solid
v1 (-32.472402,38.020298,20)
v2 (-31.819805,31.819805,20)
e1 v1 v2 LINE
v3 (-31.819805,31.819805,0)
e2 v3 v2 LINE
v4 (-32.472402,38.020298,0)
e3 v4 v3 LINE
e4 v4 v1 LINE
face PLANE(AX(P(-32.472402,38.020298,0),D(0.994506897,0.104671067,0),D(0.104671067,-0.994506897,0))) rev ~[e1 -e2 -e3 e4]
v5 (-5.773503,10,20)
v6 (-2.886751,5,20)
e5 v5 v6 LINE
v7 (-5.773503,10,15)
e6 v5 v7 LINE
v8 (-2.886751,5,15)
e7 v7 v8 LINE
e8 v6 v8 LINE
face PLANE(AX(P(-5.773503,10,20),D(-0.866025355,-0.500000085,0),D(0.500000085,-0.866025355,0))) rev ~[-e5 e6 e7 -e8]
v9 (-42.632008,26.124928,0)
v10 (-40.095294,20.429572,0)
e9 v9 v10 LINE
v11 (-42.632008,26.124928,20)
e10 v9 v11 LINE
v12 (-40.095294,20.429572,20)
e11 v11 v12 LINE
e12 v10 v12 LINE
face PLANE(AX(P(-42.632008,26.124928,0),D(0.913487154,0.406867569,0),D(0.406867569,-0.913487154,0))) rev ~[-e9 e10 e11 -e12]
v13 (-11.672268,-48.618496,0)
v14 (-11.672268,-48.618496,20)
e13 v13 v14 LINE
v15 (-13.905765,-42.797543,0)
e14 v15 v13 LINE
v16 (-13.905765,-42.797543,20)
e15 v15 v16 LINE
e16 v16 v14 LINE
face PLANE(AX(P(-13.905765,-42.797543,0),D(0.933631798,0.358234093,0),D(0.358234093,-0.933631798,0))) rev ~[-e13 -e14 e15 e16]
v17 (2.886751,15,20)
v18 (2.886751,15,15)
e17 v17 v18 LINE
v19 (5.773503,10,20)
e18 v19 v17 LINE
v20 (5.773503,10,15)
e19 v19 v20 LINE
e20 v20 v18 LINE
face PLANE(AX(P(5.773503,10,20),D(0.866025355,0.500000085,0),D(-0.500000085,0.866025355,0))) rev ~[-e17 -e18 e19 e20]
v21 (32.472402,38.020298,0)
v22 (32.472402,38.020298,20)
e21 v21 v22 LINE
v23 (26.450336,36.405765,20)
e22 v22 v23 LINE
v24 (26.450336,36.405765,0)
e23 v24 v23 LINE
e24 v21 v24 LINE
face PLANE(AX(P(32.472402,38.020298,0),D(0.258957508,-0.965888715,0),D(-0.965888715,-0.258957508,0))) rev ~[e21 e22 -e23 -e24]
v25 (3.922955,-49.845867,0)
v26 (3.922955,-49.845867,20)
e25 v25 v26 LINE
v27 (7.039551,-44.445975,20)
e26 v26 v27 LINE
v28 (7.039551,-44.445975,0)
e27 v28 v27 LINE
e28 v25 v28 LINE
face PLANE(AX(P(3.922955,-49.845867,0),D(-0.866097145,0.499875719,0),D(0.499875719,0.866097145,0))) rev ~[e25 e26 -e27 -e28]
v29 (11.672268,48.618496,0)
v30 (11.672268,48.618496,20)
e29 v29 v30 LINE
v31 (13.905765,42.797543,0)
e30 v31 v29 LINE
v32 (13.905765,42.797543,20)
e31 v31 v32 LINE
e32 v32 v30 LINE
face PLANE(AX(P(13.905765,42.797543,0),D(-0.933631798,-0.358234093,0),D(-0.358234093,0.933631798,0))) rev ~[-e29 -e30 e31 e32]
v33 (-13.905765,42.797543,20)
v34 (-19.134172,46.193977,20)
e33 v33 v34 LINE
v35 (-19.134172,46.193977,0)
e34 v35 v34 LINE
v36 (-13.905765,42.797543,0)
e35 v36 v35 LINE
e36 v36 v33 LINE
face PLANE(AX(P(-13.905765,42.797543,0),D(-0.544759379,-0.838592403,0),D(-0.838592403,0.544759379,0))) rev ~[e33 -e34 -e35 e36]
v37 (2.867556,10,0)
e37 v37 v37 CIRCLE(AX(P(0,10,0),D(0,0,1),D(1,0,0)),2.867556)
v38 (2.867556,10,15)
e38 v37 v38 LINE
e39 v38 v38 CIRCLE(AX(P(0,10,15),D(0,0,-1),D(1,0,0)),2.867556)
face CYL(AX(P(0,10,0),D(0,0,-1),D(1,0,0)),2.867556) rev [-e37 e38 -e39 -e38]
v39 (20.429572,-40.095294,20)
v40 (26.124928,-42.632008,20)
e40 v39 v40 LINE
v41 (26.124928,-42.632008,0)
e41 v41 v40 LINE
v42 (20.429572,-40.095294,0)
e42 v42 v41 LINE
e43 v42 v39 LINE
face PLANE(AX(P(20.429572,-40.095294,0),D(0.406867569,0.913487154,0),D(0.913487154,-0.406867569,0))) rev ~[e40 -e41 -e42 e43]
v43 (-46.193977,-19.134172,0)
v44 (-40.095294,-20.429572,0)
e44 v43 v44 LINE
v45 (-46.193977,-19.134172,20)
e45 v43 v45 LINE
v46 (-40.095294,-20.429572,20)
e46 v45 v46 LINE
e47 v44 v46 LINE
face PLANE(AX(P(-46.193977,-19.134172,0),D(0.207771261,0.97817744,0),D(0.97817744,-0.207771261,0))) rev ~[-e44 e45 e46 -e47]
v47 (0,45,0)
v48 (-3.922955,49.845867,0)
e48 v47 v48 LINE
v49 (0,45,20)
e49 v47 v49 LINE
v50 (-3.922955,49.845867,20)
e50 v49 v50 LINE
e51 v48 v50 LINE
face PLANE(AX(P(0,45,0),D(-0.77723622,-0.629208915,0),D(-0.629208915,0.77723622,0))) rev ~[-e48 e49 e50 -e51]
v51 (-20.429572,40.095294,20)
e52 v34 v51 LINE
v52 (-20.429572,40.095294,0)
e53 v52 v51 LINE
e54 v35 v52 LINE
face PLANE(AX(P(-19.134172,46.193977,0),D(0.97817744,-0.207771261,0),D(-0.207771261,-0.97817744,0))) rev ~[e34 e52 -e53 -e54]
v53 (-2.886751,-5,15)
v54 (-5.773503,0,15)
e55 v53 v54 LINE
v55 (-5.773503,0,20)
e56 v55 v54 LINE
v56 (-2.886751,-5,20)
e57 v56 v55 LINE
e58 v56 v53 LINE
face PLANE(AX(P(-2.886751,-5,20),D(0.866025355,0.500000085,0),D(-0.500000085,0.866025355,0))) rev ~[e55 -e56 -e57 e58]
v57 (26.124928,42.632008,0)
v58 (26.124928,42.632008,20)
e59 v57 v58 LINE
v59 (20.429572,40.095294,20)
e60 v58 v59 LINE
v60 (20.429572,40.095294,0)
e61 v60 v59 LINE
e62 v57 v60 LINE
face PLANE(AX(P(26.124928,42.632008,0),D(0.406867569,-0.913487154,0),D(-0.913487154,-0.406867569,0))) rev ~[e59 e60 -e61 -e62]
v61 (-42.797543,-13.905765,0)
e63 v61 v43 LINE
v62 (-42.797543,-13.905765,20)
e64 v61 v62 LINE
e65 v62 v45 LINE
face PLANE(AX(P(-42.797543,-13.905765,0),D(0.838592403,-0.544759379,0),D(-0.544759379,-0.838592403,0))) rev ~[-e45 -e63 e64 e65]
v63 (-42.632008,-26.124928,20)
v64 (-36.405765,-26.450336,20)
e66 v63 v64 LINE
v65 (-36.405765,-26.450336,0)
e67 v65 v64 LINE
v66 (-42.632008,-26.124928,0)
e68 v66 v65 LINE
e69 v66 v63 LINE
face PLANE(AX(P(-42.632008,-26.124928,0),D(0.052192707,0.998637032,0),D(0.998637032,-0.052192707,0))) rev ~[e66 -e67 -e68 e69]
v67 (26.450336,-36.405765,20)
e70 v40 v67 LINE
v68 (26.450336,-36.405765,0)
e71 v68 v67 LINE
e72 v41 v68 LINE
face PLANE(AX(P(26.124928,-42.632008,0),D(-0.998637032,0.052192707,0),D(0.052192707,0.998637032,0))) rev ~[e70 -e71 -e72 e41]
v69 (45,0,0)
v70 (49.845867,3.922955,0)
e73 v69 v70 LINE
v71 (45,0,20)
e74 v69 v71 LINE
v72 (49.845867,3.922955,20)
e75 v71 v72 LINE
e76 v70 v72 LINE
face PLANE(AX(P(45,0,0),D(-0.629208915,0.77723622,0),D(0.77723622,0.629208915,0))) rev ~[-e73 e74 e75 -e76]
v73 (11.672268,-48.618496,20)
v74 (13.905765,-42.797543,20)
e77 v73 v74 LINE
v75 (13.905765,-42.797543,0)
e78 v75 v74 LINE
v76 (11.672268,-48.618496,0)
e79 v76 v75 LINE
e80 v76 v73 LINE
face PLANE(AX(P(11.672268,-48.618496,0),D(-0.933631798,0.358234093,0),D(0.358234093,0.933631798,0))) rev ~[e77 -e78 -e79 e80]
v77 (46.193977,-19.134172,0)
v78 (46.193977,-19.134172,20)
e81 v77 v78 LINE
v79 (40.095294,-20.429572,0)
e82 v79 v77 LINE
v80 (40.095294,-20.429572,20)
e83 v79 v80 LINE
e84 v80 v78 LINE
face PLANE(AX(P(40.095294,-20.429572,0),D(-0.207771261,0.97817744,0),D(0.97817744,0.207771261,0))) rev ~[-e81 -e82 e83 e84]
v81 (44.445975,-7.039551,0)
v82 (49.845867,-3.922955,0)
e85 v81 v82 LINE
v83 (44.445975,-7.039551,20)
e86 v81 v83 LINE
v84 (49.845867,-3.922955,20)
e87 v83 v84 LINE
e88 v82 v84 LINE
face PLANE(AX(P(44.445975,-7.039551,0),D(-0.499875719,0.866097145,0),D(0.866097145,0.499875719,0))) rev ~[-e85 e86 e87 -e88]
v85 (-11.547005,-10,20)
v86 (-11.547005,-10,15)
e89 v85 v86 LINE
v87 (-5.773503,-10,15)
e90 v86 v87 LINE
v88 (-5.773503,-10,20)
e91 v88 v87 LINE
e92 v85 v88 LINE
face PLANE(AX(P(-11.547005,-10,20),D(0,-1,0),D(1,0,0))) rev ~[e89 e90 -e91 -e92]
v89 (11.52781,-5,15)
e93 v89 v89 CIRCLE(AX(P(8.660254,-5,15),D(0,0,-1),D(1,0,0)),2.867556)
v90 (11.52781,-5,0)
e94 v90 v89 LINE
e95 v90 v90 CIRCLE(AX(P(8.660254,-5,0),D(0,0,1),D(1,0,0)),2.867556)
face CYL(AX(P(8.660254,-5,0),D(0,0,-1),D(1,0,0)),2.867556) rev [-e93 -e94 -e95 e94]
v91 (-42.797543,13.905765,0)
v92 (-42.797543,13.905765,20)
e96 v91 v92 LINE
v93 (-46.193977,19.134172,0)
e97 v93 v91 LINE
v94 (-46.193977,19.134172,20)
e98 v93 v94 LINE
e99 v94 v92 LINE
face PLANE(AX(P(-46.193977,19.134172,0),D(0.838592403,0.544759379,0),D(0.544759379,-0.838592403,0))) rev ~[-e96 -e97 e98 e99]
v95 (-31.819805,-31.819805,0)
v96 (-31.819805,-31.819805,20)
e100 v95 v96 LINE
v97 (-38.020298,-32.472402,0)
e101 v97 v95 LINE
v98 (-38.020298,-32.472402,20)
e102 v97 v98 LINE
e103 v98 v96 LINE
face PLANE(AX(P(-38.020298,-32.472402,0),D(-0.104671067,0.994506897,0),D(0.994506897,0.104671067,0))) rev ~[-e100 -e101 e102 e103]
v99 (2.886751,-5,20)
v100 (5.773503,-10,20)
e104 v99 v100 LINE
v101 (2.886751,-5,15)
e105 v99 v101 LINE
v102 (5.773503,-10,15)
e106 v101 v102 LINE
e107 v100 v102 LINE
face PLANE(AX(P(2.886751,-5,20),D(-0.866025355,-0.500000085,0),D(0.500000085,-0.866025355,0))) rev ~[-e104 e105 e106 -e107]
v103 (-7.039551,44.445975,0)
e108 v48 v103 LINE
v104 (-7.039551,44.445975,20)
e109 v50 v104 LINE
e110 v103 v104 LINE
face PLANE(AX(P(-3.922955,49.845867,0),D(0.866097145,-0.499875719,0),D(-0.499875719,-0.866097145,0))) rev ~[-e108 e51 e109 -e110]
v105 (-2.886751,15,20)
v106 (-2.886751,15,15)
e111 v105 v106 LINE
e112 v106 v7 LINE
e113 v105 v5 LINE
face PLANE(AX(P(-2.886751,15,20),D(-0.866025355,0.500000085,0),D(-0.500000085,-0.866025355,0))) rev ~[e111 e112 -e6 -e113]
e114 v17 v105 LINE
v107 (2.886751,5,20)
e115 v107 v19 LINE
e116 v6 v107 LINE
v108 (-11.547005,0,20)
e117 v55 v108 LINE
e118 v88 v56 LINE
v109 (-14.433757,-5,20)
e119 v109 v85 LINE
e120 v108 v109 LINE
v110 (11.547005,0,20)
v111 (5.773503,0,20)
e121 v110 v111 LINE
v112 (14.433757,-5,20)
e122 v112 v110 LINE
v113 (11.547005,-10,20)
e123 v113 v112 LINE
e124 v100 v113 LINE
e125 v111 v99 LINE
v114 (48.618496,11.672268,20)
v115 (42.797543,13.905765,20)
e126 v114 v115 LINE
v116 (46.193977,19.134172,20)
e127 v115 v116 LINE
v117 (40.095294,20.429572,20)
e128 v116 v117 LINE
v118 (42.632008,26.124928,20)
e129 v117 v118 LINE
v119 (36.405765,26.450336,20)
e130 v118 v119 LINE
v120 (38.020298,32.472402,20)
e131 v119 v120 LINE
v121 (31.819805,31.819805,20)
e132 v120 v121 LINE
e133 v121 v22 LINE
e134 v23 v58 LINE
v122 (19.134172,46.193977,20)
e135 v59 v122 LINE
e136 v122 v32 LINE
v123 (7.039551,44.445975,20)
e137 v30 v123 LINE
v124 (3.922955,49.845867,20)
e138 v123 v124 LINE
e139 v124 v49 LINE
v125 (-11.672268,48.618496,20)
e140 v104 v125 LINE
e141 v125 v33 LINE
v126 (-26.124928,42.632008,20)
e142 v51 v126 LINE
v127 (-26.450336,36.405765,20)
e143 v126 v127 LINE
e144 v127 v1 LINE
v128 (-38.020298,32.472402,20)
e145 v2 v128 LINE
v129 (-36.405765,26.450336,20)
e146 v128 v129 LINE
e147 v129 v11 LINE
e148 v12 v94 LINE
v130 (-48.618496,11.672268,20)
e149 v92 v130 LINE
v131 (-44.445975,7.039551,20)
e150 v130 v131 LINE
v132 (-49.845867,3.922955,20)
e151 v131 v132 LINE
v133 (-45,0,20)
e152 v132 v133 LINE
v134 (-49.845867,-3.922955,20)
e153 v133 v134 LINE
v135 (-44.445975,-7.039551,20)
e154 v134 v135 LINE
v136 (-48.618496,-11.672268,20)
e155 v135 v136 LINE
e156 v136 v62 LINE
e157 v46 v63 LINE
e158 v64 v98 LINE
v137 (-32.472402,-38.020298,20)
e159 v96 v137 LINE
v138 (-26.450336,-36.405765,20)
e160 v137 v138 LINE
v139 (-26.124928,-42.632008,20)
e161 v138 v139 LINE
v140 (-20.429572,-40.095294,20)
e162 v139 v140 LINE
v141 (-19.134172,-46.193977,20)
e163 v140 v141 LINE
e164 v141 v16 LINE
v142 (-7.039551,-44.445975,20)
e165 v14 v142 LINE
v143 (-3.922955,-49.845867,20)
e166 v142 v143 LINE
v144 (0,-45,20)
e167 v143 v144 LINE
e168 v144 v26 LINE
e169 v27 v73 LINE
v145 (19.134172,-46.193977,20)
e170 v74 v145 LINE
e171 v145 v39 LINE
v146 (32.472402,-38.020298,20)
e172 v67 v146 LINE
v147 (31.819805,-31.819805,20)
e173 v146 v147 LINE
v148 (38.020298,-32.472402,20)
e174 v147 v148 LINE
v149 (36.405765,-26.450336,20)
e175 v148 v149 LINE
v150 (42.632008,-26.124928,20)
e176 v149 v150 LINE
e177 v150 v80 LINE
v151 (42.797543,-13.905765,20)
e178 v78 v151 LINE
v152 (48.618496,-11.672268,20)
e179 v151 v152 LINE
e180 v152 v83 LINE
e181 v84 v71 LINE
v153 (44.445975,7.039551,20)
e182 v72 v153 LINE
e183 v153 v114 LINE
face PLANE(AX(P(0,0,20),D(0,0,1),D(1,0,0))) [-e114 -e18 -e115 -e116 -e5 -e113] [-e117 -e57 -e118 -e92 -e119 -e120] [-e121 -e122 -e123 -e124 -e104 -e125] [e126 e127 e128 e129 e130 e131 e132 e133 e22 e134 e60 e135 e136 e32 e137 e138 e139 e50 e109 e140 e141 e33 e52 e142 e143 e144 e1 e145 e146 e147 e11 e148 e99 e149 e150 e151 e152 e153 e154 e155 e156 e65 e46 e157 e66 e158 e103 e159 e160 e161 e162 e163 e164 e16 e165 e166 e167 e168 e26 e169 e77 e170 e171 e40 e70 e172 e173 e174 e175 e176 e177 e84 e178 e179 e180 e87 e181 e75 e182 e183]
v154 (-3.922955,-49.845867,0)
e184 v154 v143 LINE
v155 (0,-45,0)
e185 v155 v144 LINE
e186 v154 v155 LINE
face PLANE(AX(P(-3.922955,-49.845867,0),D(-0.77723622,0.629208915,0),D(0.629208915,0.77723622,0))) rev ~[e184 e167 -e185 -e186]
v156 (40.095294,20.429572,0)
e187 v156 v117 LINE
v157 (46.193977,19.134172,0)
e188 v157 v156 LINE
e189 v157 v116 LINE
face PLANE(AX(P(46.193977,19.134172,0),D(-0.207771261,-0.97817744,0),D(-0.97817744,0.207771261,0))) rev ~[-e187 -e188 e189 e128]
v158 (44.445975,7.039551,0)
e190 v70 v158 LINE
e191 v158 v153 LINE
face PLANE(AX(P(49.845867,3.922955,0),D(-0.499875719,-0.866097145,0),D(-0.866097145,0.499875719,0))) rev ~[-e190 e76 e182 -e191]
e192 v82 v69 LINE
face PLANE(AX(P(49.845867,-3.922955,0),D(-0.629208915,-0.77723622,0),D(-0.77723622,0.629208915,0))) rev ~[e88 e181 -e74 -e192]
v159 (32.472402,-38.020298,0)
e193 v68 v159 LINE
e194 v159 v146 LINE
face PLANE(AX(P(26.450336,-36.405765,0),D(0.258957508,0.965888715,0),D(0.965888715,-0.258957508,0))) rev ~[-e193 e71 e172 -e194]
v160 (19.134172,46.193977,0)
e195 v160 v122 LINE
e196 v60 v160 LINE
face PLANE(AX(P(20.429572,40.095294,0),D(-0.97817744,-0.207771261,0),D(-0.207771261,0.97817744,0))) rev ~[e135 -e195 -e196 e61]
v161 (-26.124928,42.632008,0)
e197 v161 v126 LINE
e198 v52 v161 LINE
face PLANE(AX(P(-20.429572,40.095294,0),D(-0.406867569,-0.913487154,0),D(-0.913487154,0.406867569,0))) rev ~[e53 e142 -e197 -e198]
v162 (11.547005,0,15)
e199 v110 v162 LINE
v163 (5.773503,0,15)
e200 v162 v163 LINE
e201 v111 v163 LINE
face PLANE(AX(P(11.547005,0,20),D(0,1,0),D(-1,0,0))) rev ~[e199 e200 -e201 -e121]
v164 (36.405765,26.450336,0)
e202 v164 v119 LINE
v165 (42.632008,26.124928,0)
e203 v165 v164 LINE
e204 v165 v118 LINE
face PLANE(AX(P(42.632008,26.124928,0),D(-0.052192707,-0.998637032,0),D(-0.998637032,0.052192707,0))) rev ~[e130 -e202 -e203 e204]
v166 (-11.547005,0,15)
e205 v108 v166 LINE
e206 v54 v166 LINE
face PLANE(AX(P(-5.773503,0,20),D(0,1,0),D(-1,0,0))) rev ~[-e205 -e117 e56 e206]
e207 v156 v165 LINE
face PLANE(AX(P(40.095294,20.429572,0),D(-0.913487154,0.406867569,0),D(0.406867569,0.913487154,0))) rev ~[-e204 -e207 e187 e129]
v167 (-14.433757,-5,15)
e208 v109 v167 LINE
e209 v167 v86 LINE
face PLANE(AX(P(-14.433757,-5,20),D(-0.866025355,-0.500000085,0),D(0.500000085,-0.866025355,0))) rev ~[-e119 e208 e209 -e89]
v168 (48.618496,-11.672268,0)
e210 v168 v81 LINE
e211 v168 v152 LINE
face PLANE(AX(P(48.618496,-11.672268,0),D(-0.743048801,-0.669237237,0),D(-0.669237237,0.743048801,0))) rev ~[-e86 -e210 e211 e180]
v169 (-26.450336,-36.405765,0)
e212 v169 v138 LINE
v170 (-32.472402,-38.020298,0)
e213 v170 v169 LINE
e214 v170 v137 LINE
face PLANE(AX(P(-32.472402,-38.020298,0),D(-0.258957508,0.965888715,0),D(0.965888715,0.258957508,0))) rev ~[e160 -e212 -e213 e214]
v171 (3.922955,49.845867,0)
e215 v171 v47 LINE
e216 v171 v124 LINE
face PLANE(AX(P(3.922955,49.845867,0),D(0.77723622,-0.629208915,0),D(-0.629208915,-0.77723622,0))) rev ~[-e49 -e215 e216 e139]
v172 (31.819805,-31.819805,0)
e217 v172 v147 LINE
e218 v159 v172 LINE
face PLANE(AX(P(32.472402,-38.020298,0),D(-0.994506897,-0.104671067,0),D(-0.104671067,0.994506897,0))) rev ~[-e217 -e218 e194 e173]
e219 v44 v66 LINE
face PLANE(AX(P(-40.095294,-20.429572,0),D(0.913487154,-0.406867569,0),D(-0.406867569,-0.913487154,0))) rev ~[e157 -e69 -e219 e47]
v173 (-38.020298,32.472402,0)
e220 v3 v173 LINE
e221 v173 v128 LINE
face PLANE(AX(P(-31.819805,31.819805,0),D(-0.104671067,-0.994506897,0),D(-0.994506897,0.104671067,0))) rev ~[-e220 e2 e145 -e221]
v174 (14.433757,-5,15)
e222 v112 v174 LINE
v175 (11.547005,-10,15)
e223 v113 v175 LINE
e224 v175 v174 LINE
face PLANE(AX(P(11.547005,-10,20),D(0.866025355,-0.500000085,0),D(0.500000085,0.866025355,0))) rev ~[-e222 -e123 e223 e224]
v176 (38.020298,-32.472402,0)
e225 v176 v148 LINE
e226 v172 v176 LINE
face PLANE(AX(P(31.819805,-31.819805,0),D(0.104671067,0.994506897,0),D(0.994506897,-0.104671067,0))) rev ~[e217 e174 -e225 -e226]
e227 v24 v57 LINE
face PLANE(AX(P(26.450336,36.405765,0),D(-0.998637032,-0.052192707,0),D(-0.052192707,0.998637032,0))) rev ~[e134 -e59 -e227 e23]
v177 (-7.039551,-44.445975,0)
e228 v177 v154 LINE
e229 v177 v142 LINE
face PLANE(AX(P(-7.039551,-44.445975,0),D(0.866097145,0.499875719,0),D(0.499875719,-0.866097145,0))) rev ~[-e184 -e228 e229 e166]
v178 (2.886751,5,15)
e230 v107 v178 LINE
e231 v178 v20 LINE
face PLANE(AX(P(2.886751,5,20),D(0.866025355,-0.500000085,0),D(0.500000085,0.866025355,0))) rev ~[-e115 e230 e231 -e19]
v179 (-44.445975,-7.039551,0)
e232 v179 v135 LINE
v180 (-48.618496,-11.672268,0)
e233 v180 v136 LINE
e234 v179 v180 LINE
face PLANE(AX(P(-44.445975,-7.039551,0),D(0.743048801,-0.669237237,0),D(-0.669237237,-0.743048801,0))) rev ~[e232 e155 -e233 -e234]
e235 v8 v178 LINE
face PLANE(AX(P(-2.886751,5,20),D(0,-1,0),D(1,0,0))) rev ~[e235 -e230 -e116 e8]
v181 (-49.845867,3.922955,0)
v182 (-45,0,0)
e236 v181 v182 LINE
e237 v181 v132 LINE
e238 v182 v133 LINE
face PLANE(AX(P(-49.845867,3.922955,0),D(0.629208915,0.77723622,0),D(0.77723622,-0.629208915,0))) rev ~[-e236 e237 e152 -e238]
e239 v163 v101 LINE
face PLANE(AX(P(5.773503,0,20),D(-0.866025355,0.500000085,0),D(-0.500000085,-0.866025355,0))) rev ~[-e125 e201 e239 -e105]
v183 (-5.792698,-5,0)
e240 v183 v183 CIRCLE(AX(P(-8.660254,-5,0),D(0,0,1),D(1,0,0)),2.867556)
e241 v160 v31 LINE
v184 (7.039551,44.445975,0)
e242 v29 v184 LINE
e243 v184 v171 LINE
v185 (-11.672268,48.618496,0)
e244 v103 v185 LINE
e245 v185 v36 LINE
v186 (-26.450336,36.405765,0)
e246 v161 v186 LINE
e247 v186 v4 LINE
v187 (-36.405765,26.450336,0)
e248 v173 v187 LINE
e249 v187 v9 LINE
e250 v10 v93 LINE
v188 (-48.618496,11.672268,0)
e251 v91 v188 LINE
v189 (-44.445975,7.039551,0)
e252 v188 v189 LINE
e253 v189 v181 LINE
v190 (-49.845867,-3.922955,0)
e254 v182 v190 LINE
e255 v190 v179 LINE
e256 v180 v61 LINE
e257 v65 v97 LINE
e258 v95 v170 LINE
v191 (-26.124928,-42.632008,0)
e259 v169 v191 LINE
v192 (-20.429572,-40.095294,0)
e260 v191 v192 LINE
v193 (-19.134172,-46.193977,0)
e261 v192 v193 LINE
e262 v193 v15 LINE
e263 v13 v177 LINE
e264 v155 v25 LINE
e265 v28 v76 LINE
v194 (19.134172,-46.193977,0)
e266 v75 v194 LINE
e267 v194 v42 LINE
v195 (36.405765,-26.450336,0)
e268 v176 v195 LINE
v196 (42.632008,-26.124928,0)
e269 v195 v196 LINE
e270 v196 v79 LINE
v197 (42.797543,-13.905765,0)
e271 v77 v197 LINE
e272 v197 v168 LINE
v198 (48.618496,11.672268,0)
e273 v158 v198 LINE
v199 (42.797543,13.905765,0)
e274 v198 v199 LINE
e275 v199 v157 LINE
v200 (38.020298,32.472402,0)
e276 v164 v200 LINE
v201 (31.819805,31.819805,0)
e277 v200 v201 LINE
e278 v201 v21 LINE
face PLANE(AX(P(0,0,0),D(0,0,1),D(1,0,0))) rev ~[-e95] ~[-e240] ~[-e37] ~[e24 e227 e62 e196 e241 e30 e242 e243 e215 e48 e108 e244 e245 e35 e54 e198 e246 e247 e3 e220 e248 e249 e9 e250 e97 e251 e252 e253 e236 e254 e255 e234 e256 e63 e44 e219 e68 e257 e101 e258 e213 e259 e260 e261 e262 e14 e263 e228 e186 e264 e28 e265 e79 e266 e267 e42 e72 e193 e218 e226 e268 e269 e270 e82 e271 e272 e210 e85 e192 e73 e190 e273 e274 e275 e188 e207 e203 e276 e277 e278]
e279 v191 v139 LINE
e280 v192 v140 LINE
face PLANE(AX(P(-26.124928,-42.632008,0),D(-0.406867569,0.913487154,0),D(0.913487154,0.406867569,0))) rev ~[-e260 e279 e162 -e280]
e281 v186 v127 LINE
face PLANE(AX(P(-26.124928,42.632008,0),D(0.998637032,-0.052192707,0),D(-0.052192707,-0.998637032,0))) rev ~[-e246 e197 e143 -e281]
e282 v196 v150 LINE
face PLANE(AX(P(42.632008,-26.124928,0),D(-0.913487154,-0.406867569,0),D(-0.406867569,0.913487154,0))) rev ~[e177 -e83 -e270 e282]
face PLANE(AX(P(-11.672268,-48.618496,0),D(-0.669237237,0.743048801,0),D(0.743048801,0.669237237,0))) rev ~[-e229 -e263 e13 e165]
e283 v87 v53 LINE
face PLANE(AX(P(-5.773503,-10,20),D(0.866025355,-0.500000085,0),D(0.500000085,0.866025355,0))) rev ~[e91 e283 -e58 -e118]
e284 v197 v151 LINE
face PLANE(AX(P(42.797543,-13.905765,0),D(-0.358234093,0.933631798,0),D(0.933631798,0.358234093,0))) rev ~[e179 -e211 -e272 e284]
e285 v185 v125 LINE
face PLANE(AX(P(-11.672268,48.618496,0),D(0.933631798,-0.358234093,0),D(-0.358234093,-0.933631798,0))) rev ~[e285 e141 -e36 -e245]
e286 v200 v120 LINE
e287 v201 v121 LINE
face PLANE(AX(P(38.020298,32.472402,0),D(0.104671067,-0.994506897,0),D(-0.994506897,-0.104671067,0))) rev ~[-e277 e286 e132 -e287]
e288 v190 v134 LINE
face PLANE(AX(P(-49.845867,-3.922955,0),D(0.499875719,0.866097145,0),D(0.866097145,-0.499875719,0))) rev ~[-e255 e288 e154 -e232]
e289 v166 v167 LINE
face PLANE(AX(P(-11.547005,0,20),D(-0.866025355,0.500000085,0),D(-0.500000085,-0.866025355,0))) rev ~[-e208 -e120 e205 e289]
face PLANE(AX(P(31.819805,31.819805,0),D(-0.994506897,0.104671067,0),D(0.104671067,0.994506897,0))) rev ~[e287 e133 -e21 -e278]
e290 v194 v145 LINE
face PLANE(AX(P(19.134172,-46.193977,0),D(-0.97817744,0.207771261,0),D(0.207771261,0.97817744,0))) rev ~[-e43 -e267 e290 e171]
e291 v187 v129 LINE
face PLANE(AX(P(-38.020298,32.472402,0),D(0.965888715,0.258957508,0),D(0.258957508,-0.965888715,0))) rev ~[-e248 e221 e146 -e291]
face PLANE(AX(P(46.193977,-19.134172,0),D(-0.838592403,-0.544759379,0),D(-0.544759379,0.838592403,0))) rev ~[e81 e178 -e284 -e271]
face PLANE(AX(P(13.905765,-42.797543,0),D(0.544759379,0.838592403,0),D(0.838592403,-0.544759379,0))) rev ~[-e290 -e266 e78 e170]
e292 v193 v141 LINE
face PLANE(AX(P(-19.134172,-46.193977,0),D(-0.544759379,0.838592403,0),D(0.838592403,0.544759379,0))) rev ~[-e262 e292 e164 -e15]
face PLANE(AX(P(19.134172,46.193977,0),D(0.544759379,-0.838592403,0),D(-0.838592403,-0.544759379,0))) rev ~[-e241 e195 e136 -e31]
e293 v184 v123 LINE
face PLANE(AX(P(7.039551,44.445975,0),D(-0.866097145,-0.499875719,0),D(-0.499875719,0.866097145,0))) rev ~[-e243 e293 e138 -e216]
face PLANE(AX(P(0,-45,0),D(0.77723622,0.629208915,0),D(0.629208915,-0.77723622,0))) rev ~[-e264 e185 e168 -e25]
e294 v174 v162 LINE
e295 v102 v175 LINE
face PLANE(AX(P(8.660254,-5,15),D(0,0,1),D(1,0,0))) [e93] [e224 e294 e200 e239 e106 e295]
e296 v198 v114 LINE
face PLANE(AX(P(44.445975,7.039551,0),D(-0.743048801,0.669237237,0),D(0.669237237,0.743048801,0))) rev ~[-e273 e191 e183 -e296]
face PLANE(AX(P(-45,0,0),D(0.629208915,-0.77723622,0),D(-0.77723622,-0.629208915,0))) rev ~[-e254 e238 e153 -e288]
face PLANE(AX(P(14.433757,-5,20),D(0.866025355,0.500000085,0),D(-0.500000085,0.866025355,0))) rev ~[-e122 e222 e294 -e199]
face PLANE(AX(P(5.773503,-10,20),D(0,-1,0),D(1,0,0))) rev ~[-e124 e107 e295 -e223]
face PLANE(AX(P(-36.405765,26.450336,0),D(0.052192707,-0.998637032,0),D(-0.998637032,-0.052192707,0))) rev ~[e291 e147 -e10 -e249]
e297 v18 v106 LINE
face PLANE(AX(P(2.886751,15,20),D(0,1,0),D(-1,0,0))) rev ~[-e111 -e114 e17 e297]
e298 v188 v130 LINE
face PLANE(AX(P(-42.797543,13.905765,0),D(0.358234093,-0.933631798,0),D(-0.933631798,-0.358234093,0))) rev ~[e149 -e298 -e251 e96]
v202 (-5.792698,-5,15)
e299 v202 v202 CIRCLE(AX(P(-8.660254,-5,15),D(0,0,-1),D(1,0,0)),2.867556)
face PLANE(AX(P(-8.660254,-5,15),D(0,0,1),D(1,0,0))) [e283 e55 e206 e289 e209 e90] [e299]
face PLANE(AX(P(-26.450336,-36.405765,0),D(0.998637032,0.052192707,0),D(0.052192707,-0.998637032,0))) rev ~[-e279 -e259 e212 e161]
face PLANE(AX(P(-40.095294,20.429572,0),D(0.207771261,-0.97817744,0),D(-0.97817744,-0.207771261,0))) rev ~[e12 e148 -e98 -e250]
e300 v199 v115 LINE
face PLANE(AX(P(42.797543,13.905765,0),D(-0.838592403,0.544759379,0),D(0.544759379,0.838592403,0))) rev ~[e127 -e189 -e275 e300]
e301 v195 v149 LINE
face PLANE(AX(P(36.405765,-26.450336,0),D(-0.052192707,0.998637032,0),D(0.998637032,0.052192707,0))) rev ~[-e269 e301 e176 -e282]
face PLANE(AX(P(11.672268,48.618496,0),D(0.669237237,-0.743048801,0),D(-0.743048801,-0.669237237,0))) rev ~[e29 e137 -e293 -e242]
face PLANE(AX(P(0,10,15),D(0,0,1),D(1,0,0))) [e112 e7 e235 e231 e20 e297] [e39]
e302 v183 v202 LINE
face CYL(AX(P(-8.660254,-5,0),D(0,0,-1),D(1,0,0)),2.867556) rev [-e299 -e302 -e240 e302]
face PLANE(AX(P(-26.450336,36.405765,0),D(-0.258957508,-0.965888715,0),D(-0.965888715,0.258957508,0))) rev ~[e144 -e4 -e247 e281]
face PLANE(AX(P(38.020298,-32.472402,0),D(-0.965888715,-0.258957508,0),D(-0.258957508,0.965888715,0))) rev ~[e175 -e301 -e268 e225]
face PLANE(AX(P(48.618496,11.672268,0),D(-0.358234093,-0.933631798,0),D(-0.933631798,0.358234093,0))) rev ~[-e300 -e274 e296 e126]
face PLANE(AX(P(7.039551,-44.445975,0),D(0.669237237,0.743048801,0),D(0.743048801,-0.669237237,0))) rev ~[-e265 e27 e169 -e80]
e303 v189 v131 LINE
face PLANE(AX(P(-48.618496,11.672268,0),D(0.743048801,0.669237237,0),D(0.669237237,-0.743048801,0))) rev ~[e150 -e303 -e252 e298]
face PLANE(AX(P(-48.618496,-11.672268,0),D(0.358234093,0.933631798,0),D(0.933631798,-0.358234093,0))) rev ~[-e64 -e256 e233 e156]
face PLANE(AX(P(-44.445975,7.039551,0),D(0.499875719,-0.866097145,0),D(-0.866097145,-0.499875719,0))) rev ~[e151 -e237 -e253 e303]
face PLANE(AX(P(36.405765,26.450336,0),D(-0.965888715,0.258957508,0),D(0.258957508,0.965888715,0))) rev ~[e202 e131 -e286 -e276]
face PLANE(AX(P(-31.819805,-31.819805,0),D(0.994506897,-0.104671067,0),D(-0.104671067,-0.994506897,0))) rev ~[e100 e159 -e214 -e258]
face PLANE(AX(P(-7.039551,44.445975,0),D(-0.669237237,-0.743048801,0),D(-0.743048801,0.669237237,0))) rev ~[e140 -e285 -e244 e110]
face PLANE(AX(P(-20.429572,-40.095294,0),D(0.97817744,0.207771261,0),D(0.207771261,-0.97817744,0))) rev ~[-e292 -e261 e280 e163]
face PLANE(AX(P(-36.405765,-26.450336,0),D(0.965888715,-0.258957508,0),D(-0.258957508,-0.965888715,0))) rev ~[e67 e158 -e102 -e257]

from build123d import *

# Parameters (mm, degrees)
F0_R     = 2.867556
F1_DEPTH = 20
F3_DEPTH = 5


with BuildPart() as f1:
    # F0 (on Top) → F1 (new body)
    with BuildSketch(Plane.XY):
        Polygon((49.845867, -3.922955), (45, 0), (49.845867, 3.922955), (44.445975, 7.039551), (48.618496, 11.672268), (42.797543, 13.905765), (46.193977, 19.134172), (40.095294, 20.429572), (42.632008, 26.124928), (36.405765, 26.450336), (38.020298, 32.472402), (31.819805, 31.819805), (32.472402, 38.020298), (26.450336, 36.405765), (26.124928, 42.632008), (20.429572, 40.095294), (19.134172, 46.193977), (13.905765, 42.797543), (11.672268, 48.618496), (7.039551, 44.445975), (3.922955, 49.845867), (0, 45), (-3.922955, 49.845867), (-7.039551, 44.445975), (-11.672268, 48.618496), (-13.905765, 42.797543), (-19.134172, 46.193977), (-20.429572, 40.095294), (-26.124928, 42.632008), (-26.450336, 36.405765), (-32.472402, 38.020298), (-31.819805, 31.819805), (-38.020298, 32.472402), (-36.405765, 26.450336), (-42.632008, 26.124928), (-40.095294, 20.429572), (-46.193977, 19.134172), (-42.797543, 13.905765), (-48.618496, 11.672268), (-44.445975, 7.039551), (-49.845867, 3.922955), (-45, 0), (-49.845867, -3.922955), (-44.445975, -7.039551), (-48.618496, -11.672268), (-42.797543, -13.905765), (-46.193977, -19.134172), (-40.095294, -20.429572), (-42.632008, -26.124928), (-36.405765, -26.450336), (-38.020298, -32.472402), (-31.819805, -31.819805), (-32.472402, -38.020298), (-26.450336, -36.405765), (-26.124928, -42.632008), (-20.429572, -40.095294), (-19.134172, -46.193977), (-13.905765, -42.797543), (-11.672268, -48.618496), (-7.039551, -44.445975), (-3.922955, -49.845867), (0, -45), (3.922955, -49.845867), (7.039551, -44.445975), (11.672268, -48.618496), (13.905765, -42.797543), (19.134172, -46.193977), (20.429572, -40.095294), (26.124928, -42.632008), (26.450336, -36.405765), (32.472402, -38.020298), (31.819805, -31.819805), (38.020298, -32.472402), (36.405765, -26.450336), (42.632008, -26.124928), (40.095294, -20.429572), (46.193977, -19.134172), (42.797543, -13.905765), (48.618496, -11.672268), (44.445975, -7.039551), align=None)
        with Locations((-8.660254, -5)):
            Circle(F0_R, mode=Mode.SUBTRACT)
        with Locations((8.660254, -5)):
            Circle(F0_R, mode=Mode.SUBTRACT)
        with Locations((0, 10)):
            Circle(F0_R, mode=Mode.SUBTRACT)
    extrude(amount=F1_DEPTH)

    # F2 (on face) → F3 (cut)
    with BuildSketch(Plane.XY.offset(20)):
        Polygon((2.886751, 15), (-2.886751, 15), (-5.773503, 10), (-2.886751, 5), (2.886751, 5), (5.773503, 10), align=None)
        Polygon((-11.547005, 0), (-14.433757, -5), (-11.547005, -10), (-5.773503, -10), (-2.886751, -5), (-5.773503, 0), align=None)
        Polygon((5.773503, -10), (11.547005, -10), (14.433757, -5), (11.547005, 0), (5.773503, 0), (2.886751, -5), align=None)
    extrude(amount=-F3_DEPTH, mode=Mode.SUBTRACT)


solid = f1.part
